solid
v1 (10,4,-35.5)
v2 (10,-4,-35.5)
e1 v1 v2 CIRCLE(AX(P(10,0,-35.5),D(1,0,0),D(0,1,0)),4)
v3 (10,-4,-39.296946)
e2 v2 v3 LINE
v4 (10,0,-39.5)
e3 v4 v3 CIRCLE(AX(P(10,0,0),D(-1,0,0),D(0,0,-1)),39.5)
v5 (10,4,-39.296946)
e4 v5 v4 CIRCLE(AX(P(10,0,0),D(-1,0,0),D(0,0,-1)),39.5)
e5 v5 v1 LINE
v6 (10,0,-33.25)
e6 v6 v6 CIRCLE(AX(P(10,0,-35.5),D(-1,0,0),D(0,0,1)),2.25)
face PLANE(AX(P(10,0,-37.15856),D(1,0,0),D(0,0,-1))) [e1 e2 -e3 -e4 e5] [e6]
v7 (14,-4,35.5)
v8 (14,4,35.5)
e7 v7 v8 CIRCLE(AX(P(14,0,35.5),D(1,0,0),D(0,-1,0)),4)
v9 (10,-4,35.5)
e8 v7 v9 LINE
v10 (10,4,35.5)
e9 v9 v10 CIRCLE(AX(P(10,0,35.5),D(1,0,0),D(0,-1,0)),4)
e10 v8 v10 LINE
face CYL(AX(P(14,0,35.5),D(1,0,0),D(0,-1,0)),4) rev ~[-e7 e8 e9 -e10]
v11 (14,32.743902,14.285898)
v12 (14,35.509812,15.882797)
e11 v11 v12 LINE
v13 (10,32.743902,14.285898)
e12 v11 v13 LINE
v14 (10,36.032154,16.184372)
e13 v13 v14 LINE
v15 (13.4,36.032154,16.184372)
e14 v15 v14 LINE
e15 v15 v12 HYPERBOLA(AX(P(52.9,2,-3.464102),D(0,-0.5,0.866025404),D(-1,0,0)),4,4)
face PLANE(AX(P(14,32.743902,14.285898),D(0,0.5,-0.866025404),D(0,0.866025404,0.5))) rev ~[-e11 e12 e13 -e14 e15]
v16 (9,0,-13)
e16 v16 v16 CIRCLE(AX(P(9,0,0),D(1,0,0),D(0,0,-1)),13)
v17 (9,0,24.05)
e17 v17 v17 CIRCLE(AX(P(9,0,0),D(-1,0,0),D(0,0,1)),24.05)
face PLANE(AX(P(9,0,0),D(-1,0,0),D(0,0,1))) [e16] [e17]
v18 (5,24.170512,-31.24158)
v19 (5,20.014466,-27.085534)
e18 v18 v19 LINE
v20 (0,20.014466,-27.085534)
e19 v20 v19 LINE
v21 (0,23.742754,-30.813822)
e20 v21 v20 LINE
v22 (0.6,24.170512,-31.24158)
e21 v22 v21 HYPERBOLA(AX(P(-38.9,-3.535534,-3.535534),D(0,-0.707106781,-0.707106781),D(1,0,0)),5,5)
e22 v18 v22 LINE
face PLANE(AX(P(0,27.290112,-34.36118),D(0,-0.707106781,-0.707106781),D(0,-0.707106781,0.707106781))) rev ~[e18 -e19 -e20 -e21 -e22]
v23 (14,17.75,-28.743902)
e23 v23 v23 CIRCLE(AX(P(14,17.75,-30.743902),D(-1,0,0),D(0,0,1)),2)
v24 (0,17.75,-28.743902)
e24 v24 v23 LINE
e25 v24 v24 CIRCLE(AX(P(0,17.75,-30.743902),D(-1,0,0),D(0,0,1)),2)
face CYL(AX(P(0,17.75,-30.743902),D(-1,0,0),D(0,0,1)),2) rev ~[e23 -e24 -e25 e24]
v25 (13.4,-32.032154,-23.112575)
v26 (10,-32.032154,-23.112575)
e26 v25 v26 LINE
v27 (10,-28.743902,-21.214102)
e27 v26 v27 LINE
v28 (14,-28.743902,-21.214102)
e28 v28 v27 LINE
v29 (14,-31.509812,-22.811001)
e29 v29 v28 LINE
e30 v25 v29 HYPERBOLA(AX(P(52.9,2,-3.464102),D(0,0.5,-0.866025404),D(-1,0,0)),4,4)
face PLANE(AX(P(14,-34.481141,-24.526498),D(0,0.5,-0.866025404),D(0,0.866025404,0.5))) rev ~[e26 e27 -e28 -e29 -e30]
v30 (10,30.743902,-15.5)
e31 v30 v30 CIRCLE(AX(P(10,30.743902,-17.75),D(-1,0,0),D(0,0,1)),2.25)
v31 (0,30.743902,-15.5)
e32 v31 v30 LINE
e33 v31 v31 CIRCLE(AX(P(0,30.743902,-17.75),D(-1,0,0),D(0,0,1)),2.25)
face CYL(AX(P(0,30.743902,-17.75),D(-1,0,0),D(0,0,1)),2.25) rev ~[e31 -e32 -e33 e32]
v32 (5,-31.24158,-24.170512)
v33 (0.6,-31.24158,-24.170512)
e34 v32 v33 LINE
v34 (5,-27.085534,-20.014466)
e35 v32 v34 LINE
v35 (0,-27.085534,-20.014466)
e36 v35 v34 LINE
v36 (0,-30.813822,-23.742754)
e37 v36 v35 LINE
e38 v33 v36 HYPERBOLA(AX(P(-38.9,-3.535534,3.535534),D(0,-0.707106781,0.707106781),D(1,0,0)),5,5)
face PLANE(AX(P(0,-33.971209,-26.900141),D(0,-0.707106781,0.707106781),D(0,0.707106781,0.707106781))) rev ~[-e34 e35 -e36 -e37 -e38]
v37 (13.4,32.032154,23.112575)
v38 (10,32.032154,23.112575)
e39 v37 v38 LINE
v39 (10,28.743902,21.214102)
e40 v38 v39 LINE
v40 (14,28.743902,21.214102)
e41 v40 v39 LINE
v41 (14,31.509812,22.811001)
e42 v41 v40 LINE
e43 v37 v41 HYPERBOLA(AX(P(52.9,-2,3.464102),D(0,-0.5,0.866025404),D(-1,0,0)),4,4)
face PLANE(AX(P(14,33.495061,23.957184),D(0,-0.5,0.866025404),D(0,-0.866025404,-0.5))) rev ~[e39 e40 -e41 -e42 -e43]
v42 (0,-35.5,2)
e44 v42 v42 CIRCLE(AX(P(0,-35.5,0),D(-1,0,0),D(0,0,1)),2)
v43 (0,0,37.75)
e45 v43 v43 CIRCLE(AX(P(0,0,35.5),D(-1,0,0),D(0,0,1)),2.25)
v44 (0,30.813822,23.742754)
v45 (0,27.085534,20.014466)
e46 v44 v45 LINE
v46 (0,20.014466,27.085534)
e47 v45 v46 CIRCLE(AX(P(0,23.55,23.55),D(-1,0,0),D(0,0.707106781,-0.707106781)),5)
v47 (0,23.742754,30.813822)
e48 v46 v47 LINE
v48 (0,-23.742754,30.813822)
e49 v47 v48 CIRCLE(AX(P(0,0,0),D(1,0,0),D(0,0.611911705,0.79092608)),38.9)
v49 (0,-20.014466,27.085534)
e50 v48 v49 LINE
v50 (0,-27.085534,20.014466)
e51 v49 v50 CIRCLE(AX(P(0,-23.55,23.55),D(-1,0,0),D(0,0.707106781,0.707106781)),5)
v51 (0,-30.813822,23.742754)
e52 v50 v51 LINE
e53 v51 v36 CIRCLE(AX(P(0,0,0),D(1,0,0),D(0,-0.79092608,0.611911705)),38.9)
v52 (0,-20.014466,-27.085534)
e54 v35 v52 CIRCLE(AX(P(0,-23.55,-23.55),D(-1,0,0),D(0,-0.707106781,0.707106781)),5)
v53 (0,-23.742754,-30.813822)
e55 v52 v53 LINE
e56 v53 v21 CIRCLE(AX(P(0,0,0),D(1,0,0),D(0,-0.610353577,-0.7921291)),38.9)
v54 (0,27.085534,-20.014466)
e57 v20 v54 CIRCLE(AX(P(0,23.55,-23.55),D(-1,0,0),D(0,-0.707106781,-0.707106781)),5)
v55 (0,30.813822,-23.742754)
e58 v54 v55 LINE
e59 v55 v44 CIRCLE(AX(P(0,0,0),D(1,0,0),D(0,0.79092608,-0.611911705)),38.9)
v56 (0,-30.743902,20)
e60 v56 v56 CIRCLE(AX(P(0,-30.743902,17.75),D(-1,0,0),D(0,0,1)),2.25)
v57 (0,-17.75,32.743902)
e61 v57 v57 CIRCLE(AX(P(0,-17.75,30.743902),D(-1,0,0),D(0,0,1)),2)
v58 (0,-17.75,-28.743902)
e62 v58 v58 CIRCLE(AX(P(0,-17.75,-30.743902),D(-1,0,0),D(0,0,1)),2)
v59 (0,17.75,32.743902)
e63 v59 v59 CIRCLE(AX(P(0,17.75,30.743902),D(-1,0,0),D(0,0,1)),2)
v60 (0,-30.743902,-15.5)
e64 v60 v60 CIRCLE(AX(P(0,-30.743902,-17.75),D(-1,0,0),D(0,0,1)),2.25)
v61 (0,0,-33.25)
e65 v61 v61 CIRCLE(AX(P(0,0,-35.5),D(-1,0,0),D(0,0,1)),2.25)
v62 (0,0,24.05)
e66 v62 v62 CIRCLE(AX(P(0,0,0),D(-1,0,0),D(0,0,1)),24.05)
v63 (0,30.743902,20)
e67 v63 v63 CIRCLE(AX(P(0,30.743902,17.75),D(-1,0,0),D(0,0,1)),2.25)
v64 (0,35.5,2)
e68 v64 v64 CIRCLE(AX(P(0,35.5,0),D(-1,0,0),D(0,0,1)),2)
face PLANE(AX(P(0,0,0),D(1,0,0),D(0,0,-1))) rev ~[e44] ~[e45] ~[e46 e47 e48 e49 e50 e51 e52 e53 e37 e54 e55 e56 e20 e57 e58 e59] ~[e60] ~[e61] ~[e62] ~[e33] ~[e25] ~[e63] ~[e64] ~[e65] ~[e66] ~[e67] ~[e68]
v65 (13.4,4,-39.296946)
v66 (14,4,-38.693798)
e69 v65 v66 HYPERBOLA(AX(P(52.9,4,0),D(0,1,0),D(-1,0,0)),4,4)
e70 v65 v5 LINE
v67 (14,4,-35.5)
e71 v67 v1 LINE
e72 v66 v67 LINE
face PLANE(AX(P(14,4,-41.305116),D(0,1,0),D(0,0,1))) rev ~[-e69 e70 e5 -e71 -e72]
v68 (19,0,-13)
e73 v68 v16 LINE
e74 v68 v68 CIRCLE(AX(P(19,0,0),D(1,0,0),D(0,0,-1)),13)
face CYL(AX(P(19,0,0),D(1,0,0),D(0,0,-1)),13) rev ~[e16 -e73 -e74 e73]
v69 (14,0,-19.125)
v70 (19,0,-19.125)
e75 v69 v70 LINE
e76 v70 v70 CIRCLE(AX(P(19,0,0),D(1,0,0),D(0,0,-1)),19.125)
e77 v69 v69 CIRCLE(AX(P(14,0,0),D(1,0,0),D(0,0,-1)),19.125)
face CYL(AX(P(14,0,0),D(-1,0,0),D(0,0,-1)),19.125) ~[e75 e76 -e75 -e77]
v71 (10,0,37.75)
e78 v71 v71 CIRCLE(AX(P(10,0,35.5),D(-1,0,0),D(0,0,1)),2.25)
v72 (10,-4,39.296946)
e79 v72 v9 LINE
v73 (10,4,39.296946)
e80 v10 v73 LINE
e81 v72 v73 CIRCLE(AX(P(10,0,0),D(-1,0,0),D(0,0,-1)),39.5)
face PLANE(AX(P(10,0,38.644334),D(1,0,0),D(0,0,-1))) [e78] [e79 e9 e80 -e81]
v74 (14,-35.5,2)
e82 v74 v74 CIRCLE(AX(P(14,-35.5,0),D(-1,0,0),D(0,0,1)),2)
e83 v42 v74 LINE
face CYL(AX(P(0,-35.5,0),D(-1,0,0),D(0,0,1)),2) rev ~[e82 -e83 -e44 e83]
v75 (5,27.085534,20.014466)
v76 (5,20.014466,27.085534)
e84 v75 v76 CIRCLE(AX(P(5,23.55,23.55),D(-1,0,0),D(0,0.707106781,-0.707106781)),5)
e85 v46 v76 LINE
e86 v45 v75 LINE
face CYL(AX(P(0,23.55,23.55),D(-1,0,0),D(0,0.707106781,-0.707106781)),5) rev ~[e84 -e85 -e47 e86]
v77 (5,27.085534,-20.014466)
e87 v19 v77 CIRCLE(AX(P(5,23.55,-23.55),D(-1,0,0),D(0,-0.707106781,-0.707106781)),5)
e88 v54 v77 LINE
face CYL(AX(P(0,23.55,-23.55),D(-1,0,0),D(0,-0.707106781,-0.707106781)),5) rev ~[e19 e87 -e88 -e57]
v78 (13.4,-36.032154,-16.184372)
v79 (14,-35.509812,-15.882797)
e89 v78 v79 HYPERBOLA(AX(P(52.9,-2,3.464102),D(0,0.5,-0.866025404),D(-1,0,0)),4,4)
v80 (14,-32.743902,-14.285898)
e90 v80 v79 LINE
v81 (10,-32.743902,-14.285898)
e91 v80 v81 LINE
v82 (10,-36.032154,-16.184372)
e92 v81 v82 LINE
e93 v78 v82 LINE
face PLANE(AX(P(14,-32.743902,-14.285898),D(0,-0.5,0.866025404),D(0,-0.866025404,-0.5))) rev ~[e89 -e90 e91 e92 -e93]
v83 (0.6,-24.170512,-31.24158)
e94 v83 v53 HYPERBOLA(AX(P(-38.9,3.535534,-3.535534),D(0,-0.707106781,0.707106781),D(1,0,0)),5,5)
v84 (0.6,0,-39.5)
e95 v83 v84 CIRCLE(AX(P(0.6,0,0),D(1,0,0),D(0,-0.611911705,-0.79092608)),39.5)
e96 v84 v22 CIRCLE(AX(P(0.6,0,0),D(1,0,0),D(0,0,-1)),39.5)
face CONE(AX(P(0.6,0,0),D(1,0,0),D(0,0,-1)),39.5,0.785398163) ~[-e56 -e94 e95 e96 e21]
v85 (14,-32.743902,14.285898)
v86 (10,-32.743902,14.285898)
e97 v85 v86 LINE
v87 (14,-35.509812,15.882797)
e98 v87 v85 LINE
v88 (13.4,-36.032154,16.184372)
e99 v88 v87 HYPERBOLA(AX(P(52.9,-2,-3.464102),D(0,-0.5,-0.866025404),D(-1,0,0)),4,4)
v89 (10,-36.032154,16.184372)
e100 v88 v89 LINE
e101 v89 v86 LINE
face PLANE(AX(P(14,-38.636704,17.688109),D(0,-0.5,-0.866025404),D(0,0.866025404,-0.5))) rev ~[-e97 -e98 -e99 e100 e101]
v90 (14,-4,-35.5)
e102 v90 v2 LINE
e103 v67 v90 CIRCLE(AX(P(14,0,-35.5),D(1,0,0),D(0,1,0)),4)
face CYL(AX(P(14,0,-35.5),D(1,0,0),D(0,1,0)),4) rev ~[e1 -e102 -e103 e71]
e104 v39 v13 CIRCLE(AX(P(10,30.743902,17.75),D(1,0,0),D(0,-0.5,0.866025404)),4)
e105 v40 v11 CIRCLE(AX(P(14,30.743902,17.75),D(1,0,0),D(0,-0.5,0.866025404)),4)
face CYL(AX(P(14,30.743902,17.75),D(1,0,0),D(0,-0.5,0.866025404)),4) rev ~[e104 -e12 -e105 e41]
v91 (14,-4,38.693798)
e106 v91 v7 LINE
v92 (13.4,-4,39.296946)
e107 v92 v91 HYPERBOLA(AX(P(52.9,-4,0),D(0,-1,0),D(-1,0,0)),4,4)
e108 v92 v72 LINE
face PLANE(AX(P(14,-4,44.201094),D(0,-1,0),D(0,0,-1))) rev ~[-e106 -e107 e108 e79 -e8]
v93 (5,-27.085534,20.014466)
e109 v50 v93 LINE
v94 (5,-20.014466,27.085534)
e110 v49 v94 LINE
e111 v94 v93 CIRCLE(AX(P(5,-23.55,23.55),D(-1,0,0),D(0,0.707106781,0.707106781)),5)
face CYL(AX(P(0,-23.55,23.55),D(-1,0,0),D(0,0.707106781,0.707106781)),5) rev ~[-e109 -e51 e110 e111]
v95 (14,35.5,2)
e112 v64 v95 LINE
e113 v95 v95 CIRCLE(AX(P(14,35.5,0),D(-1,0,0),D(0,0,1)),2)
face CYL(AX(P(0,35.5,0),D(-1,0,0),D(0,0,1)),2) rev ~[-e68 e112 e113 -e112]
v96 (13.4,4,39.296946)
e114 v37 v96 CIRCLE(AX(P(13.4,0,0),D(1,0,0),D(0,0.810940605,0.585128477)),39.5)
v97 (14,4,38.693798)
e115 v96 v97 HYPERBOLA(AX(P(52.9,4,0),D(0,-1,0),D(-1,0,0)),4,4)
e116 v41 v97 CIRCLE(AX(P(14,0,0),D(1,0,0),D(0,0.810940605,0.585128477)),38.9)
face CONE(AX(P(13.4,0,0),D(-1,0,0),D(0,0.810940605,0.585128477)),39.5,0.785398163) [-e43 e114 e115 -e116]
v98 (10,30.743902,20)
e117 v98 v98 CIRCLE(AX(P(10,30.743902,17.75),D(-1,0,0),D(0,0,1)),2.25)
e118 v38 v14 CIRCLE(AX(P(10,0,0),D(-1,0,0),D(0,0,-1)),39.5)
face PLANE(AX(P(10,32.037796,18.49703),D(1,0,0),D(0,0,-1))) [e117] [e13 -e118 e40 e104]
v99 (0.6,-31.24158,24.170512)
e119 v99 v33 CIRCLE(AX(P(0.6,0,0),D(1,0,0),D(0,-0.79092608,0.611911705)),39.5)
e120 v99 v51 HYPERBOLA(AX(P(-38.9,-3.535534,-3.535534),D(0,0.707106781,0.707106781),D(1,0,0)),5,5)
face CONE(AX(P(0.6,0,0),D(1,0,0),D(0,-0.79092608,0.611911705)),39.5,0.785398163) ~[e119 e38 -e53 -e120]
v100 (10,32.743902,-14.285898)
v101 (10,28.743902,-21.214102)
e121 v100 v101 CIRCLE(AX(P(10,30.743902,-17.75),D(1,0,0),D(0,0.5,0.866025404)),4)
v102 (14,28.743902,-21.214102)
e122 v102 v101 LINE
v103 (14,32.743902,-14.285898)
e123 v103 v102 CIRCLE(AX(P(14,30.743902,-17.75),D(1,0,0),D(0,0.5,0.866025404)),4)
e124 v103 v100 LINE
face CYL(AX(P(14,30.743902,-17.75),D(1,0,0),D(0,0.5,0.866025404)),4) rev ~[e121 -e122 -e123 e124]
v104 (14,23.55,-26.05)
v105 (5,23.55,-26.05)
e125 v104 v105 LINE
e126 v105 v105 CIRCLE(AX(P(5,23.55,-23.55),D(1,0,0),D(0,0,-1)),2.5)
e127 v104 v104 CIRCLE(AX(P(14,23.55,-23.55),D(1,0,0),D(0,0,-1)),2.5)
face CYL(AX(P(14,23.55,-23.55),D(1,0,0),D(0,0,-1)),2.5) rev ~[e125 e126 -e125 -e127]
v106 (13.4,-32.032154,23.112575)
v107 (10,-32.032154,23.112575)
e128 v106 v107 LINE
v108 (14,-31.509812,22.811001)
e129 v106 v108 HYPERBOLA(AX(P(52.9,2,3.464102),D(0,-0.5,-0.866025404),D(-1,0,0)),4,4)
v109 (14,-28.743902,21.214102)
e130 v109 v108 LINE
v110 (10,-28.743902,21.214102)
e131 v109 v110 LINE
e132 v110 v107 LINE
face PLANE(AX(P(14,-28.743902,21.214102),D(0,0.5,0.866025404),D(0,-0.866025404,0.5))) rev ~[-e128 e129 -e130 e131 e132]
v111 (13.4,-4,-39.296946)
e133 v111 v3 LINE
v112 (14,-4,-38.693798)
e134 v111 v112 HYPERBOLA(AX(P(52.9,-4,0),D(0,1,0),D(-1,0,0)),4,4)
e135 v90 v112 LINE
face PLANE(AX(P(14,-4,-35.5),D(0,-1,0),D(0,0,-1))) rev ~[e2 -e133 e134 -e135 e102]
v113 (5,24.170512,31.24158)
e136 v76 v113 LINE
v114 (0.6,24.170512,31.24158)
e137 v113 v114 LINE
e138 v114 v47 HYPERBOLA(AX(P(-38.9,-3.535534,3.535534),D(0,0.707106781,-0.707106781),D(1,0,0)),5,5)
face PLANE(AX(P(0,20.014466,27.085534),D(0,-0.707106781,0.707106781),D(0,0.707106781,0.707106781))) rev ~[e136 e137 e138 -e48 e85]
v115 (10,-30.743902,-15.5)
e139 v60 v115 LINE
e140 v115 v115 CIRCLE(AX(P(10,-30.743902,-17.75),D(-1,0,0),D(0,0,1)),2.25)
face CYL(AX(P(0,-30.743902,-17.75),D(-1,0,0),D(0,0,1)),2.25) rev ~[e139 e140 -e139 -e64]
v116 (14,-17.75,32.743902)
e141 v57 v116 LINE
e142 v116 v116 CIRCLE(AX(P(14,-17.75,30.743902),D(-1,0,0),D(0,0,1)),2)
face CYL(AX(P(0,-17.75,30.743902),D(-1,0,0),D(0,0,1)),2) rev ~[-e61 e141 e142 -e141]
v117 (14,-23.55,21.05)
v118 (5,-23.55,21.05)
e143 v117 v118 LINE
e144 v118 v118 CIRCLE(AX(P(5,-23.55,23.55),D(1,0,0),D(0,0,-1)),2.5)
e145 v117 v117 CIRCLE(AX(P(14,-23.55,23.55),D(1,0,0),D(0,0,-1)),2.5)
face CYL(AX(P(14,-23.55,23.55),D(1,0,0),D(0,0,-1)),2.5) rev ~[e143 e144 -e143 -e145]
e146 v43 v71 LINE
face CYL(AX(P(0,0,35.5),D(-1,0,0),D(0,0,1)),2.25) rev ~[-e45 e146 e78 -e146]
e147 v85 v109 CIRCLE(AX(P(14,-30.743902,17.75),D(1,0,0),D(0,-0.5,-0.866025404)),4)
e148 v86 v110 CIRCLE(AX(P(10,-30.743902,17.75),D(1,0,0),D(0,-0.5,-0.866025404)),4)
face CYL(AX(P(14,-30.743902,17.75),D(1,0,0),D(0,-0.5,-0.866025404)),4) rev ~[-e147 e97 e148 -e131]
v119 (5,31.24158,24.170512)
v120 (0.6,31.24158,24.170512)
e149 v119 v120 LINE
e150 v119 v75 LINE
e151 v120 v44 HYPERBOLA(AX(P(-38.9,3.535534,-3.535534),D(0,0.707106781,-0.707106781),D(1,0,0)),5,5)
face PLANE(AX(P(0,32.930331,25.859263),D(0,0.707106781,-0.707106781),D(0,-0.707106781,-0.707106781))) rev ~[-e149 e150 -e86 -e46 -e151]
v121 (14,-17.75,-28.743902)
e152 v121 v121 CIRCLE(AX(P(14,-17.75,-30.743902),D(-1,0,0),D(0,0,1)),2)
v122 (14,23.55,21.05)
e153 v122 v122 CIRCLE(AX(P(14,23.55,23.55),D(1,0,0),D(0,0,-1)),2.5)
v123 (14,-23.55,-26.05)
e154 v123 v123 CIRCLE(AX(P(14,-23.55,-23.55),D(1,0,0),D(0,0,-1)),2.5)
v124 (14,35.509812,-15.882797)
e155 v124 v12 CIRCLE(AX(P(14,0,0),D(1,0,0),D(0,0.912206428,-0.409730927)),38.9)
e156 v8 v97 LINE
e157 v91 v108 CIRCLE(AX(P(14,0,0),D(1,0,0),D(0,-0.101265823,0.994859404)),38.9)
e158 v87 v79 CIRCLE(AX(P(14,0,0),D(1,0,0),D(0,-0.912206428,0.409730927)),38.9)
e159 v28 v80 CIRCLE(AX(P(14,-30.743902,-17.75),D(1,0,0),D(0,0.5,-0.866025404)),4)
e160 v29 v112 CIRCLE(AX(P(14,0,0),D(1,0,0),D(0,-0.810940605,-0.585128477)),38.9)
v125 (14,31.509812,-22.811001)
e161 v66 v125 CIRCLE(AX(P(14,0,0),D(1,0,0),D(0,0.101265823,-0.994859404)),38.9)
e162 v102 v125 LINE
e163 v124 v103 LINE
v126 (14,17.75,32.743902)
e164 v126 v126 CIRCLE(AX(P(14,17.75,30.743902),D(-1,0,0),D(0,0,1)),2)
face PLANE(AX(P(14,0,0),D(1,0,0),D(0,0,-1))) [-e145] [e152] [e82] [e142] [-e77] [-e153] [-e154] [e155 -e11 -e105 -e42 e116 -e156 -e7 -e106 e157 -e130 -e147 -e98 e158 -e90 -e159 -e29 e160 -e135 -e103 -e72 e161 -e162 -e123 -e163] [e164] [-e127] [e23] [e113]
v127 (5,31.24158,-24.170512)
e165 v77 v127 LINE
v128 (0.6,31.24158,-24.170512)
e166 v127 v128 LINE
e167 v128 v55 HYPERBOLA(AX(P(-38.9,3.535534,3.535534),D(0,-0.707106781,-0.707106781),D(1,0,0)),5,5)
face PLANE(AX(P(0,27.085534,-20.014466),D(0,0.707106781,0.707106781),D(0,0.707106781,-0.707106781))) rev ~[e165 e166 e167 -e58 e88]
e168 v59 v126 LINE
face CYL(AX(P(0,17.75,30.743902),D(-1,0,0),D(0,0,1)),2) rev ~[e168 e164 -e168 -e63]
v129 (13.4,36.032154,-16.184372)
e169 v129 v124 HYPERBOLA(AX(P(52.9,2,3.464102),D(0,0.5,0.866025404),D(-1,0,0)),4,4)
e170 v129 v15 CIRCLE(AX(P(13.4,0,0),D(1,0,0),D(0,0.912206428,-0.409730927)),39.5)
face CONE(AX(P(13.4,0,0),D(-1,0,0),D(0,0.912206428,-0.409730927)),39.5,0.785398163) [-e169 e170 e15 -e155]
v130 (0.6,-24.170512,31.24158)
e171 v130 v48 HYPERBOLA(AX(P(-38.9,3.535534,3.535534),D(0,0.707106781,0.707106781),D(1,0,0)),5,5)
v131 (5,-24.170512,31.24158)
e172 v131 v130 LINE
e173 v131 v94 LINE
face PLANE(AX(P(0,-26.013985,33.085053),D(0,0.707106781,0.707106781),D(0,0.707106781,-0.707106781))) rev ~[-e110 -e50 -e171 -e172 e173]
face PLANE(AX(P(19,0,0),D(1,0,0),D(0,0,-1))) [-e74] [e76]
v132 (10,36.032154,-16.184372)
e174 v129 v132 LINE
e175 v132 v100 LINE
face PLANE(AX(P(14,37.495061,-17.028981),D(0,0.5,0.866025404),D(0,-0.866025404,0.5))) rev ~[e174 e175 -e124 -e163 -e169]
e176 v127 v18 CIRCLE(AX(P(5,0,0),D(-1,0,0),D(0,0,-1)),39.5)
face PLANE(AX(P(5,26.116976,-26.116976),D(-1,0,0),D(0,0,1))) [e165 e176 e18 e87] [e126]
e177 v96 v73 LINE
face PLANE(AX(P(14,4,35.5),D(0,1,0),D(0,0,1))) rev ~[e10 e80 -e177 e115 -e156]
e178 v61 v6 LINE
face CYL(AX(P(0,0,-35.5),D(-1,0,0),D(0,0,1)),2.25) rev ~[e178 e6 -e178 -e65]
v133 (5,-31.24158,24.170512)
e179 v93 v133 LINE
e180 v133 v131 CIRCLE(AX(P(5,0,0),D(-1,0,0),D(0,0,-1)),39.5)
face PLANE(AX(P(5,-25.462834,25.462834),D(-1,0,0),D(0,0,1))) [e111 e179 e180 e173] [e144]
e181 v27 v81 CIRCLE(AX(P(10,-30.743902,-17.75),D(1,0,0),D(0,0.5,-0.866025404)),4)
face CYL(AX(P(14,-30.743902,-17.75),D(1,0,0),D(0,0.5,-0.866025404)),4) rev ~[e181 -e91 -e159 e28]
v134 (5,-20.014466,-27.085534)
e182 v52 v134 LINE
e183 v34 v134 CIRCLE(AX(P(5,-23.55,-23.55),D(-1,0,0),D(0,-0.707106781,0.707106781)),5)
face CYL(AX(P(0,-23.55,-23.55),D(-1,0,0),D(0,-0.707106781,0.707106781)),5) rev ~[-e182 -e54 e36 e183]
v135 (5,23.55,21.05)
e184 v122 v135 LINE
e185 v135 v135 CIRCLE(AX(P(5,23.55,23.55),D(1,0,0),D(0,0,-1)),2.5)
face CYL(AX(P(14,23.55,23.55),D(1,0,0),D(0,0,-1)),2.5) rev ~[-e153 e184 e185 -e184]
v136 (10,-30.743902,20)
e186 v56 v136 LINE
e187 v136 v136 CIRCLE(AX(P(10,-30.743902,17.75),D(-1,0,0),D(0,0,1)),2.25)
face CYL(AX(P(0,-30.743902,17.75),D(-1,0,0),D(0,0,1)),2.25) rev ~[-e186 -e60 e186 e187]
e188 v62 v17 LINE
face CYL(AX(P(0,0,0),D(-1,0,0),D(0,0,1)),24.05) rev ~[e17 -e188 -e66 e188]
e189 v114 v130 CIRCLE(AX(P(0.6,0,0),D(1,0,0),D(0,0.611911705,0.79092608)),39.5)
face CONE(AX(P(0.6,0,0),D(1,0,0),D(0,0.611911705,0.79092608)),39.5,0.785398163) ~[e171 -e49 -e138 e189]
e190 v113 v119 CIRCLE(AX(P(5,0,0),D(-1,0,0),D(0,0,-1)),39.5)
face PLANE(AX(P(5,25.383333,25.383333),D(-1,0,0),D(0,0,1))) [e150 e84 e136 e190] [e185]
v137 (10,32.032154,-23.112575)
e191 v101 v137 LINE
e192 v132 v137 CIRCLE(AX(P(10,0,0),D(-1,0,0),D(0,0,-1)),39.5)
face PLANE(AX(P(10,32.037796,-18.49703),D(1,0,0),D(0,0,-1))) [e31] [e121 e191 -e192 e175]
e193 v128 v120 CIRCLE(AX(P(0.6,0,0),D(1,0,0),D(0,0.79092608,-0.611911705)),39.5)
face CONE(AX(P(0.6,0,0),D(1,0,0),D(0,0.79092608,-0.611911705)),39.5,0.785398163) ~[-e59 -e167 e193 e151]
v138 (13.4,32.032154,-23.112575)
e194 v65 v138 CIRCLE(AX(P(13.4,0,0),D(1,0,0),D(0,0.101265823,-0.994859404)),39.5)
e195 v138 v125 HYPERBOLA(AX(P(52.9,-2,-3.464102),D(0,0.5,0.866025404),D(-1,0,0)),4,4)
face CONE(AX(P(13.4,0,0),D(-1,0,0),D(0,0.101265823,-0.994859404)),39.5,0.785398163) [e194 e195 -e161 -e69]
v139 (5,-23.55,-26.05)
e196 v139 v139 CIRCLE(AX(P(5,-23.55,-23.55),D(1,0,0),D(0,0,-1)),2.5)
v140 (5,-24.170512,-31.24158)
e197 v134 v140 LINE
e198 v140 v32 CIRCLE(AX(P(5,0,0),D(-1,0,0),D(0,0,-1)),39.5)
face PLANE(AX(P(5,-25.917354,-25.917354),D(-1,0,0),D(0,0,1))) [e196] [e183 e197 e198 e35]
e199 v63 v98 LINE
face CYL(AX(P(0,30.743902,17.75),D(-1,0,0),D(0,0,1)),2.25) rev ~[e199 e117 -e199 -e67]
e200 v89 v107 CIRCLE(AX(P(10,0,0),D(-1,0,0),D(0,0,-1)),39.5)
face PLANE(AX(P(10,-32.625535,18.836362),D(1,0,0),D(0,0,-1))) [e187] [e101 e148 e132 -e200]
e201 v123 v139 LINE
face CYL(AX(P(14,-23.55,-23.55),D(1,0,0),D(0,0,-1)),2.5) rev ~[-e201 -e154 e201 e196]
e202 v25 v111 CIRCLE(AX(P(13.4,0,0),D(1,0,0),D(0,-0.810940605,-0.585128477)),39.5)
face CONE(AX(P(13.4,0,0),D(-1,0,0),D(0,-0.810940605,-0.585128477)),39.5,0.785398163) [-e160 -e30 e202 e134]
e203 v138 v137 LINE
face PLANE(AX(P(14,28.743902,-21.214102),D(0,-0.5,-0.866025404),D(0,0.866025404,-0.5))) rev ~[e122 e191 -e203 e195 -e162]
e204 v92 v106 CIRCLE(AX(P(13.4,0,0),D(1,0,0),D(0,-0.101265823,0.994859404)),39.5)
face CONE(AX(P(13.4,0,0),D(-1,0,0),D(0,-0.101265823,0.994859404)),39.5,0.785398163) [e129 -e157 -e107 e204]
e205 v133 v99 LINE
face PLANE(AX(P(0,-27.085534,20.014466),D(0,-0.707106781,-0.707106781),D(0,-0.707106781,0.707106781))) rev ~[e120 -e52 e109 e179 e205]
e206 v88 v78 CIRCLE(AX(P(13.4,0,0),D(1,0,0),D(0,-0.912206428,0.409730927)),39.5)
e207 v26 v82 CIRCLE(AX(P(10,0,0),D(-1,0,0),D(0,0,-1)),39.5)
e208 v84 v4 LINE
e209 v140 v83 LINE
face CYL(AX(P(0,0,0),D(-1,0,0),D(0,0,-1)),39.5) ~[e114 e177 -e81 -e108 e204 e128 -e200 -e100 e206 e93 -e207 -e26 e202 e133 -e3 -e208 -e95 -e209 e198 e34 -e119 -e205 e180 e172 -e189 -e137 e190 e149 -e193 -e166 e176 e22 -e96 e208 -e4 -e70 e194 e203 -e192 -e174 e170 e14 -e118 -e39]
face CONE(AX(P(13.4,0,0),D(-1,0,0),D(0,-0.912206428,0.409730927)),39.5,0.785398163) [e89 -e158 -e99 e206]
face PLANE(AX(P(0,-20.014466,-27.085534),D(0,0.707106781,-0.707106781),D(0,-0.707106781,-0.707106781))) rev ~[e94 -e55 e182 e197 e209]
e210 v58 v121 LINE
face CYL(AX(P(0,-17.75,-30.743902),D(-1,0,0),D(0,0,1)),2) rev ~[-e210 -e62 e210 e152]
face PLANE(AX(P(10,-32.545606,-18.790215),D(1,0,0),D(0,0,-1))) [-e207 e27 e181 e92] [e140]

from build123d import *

# Parameters (mm, degrees)
SKETCH_1_R          = 39.5
EXTRUDE_1_DEPTH     = 14
SKETCH_2_R          = 2.25
SKETCH_2_R_2        = 2
CUT_EXTRUDE_1_DEPTH = 16
CUT_EXTRUDE_2_DEPTH = 4
CUT_EXTRUDE_3_DEPTH = 4
SKETCH_8_R          = 24.05
CUT_EXTRUDE_4_DEPTH = 9
SKETCH_9_R          = 2.5
CUT_EXTRUDE_5_DEPTH = 15
SKETCH_10_R         = 19.125
EXTRUDE_2_DEPTH     = 5
SKETCH_11_R         = 13
CUT_EXTRUDE_6_DEPTH = 104
CUT_EXTRUDE_7_DEPTH = 5
CHAMFER_2_SIZE      = 0.6
CHAMFER_3_SIZE      = 0.6
CHAMFER_4_SIZE      = 0.6
CHAMFER_5_SIZE      = 0.6
CHAMFER_6_SIZE      = 0.6
CHAMFER_7_SIZE      = 0.6
CHAMFER_9_SIZE      = 0.6
CHAMFER_10_SIZE     = 0.6
CHAMFER_11_SIZE     = 0.6
CHAMFER_12_SIZE     = 0.6


with BuildPart() as part:
    # 草图1 → 凸台-拉伸1 (new body)
    with BuildSketch(Plane(origin=(0, 0, 0), x_dir=(0, 0, -1), z_dir=(1, 0, 0))):
        Circle(SKETCH_1_R)
    extrude(amount=EXTRUDE_1_DEPTH)

    # 草图2 → 切除-拉伸1 (cut)
    with BuildSketch(Plane.ZY):
        with Locations((-35.5, 0)):
            Circle(SKETCH_2_R)
        with Locations((-30.743901834, 17.75)):
            Circle(SKETCH_2_R_2)
        with Locations((-17.75, 30.743901834)):
            Circle(SKETCH_2_R)
        with Locations((0, 35.5)):
            Circle(SKETCH_2_R_2)
        with Locations((17.75, 30.743901834)):
            Circle(SKETCH_2_R)
        with Locations((30.743901834, 17.75)):
            Circle(SKETCH_2_R_2)
        with Locations((35.5, 0)):
            Circle(SKETCH_2_R)
        with Locations((30.743901834, -17.75)):
            Circle(SKETCH_2_R_2)
        with Locations((17.75, -30.743901834)):
            Circle(SKETCH_2_R)
        with Locations((0, -35.5)):
            Circle(SKETCH_2_R_2)
        with Locations((-17.75, -30.743901834)):
            Circle(SKETCH_2_R)
        with Locations((-30.743901834, -17.75)):
            Circle(SKETCH_2_R_2)
    extrude(amount=-CUT_EXTRUDE_1_DEPTH, mode=Mode.SUBTRACT)

    # 草图4 → 切除-拉伸2 (cut)
    with BuildSketch(Plane(origin=(14, 0, 0), x_dir=(0, 0, -1), z_dir=(1, 0, 0))):
        with BuildLine():
            Line((-35.5, 4), (-44.201093629, 4))
            Line((-44.201093629, 4), (-44.201093629, -4))
            Line((-44.201093629, -4), (-35.5, -4))
            ThreePointArc((-35.5, -4), (-31.5, 0), (-35.5, 4))
        make_face()
    extrude(amount=-CUT_EXTRUDE_2_DEPTH, mode=Mode.SUBTRACT)

    # 草图7 → 切除-拉伸3 (cut)
    with BuildSketch(Plane(origin=(14, 0, 0), x_dir=(0, 0, -1), z_dir=(1, 0, 0))):
        with BuildLine():
            Line((-21.214101615, -28.743901834), (-24.616312288, -34.636703577))
            Line((-24.616312288, -34.636703577), (-17.688109058, -38.636703577))
            Line((-17.688109058, -38.636703577), (-14.285898385, -32.743901834))
            ThreePointArc((-14.285898385, -32.743901834), (-15.75, -27.279800219), (-21.214101615, -28.743901834))
        make_face()
        with BuildLine():
            Line((14.285898385, -32.743901834), (17.598294891, -38.481140877))
            Line((17.598294891, -38.481140877), (24.526498121, -34.481140877))
            Line((24.526498121, -34.481140877), (21.214101615, -28.743901834))
            ThreePointArc((21.214101615, -28.743901834), (15.75, -27.279800219), (14.285898385, -32.743901834))
        make_face()
        with BuildLine():
            Line((35.5, -4), (41.305115607, -4))
            Line((41.305115607, -4), (41.305115607, 4))
            Line((41.305115607, 4), (35.5, 4))
            ThreePointArc((35.5, 4), (31.5, 0), (35.5, -4))
        make_face()
        with BuildLine():
            Line((21.214101615, 28.743901834), (23.957184481, 33.495060727))
            Line((23.957184481, 33.495060727), (17.02898125, 37.495060727))
            Line((17.02898125, 37.495060727), (14.285898385, 32.743901834))
            ThreePointArc((14.285898385, 32.743901834), (15.75, 27.279800219), (21.214101615, 28.743901834))
        make_face()
        with BuildLine():
            Line((-14.285898385, 32.743901834), (-17.02898125, 37.495060727))
            Line((-17.02898125, 37.495060727), (-23.957184481, 33.495060727))
            Line((-23.957184481, 33.495060727), (-21.214101615, 28.743901834))
            ThreePointArc((-21.214101615, 28.743901834), (-15.75, 27.279800219), (-14.285898385, 32.743901834))
        make_face()
    extrude(amount=-CUT_EXTRUDE_3_DEPTH, mode=Mode.SUBTRACT)

    # 草图8 → 切除-拉伸4 (cut)
    with BuildSketch(Plane.ZY):
        Circle(SKETCH_8_R)
    extrude(amount=-CUT_EXTRUDE_4_DEPTH, mode=Mode.SUBTRACT)

    # 草图9 → 切除-拉伸5 (cut)
    with BuildSketch(Plane(origin=(14, 0, 0), x_dir=(0, 0, -1), z_dir=(1, 0, 0))):
        with Locations((23.55, -23.55)):
            Circle(SKETCH_9_R)
        with Locations((-23.55, -23.55)):
            Circle(SKETCH_9_R)
        with Locations((-23.55, 23.55)):
            Circle(SKETCH_9_R)
        with Locations((23.55, 23.55)):
            Circle(SKETCH_9_R)
    extrude(amount=-CUT_EXTRUDE_5_DEPTH, mode=Mode.SUBTRACT)

    # 草图10 → 凸台-拉伸2 (add)
    with BuildSketch(Plane(origin=(14, 0, 0), x_dir=(0, 0, -1), z_dir=(1, 0, 0))):
        Circle(SKETCH_10_R)
    extrude(amount=EXTRUDE_2_DEPTH)

    # 草图11 → 切除-拉伸6 (cut)
    with BuildSketch(Plane(origin=(19, 0, 0), x_dir=(0, 0, -1), z_dir=(1, 0, 0))):
        Circle(SKETCH_11_R)
    extrude(amount=-CUT_EXTRUDE_6_DEPTH, mode=Mode.SUBTRACT)

    # 草图12 → 切除-拉伸7 (cut)
    with BuildSketch(Plane.ZY):
        with BuildLine():
            Line((20.014466094, -27.085533906), (26.013985292, -33.085053103))
            Line((26.013985292, -33.085053103), (33.085053103, -26.013985292))
            Line((33.085053103, -26.013985292), (27.085533906, -20.014466094))
            ThreePointArc((27.085533906, -20.014466094), (20.014466094, -20.014466094), (20.014466094, -27.085533906))
        make_face()
        with BuildLine():
            Line((27.085533906, 20.014466094), (32.930330591, 25.859262779))
            Line((32.930330591, 25.859262779), (25.859262779, 32.930330591))
            Line((25.859262779, 32.930330591), (20.014466094, 27.085533906))
            ThreePointArc((20.014466094, 27.085533906), (20.014466094, 20.014466094), (27.085533906, 20.014466094))
        make_face()
        with BuildLine():
            Line((-20.014466094, 27.085533906), (-27.290112032, 34.361179844))
            Line((-27.290112032, 34.361179844), (-34.361179844, 27.290112032))
            Line((-34.361179844, 27.290112032), (-27.085533906, 20.014466094))
            ThreePointArc((-27.085533906, 20.014466094), (-20.014466094, 20.014466094), (-20.014466094, 27.085533906))
        make_face()
        with BuildLine():
            Line((-27.085533906, -20.014466094), (-33.971209247, -26.900141436))
            Line((-33.971209247, -26.900141436), (-26.900141436, -33.971209247))
            Line((-26.900141436, -33.971209247), (-20.014466094, -27.085533906))
            ThreePointArc((-20.014466094, -27.085533906), (-20.014466094, -20.014466094), (-27.085533906, -20.014466094))
        make_face()
    extrude(amount=-CUT_EXTRUDE_7_DEPTH, mode=Mode.SUBTRACT)

    # 倒角2
    chamfer_2_edges = [part.edges().sort_by_distance(p)[0] for p in [
        (0, 12.771209477, -37.378419021),
    ]]
    chamfer(chamfer_2_edges, length=CHAMFER_2_SIZE)

    # 倒角3
    chamfer_3_edges = [part.edges().sort_by_distance(p)[0] for p in [
        (0, -39.5, 0),
    ]]
    chamfer(chamfer_3_edges, length=CHAMFER_3_SIZE)

    # 倒角4
    chamfer_4_edges = [part.edges().sort_by_distance(p)[0] for p in [
        (0, 0, 39.5),
    ]]
    chamfer(chamfer_4_edges, length=CHAMFER_4_SIZE)

    # 倒角5
    chamfer_5_edges = [part.edges().sort_by_distance(p)[0] for p in [
        (0, 39.5, 0),
    ]]
    chamfer(chamfer_5_edges, length=CHAMFER_5_SIZE)

    # 倒角6
    chamfer_6_edges = [part.edges().sort_by_distance(p)[0] for p in [
        (14, 19.75, -34.208003449),
    ]]
    chamfer(chamfer_6_edges, length=CHAMFER_6_SIZE)

    # 倒角7
    chamfer_7_edges = [part.edges().sort_by_distance(p)[0] for p in [
        (14, 39.5, 0),
    ]]
    chamfer(chamfer_7_edges, length=CHAMFER_7_SIZE)

    # 倒角9
    chamfer_9_edges = [part.edges().sort_by_distance(p)[0] for p in [
        (14, -19.75, -34.208003449),
    ]]
    chamfer(chamfer_9_edges, length=CHAMFER_9_SIZE)

    # 倒角10
    chamfer_10_edges = [part.edges().sort_by_distance(p)[0] for p in [
        (14, -39.5, 0),
    ]]
    chamfer(chamfer_10_edges, length=CHAMFER_10_SIZE)

    # 倒角11
    chamfer_11_edges = [part.edges().sort_by_distance(p)[0] for p in [
        (14, -19.75, 34.208003449),
    ]]
    chamfer(chamfer_11_edges, length=CHAMFER_11_SIZE)

    # 倒角12
    chamfer_12_edges = [part.edges().sort_by_distance(p)[0] for p in [
        (14, 19.75, 34.208003449),
    ]]
    chamfer(chamfer_12_edges, length=CHAMFER_12_SIZE)


solid = part.part
